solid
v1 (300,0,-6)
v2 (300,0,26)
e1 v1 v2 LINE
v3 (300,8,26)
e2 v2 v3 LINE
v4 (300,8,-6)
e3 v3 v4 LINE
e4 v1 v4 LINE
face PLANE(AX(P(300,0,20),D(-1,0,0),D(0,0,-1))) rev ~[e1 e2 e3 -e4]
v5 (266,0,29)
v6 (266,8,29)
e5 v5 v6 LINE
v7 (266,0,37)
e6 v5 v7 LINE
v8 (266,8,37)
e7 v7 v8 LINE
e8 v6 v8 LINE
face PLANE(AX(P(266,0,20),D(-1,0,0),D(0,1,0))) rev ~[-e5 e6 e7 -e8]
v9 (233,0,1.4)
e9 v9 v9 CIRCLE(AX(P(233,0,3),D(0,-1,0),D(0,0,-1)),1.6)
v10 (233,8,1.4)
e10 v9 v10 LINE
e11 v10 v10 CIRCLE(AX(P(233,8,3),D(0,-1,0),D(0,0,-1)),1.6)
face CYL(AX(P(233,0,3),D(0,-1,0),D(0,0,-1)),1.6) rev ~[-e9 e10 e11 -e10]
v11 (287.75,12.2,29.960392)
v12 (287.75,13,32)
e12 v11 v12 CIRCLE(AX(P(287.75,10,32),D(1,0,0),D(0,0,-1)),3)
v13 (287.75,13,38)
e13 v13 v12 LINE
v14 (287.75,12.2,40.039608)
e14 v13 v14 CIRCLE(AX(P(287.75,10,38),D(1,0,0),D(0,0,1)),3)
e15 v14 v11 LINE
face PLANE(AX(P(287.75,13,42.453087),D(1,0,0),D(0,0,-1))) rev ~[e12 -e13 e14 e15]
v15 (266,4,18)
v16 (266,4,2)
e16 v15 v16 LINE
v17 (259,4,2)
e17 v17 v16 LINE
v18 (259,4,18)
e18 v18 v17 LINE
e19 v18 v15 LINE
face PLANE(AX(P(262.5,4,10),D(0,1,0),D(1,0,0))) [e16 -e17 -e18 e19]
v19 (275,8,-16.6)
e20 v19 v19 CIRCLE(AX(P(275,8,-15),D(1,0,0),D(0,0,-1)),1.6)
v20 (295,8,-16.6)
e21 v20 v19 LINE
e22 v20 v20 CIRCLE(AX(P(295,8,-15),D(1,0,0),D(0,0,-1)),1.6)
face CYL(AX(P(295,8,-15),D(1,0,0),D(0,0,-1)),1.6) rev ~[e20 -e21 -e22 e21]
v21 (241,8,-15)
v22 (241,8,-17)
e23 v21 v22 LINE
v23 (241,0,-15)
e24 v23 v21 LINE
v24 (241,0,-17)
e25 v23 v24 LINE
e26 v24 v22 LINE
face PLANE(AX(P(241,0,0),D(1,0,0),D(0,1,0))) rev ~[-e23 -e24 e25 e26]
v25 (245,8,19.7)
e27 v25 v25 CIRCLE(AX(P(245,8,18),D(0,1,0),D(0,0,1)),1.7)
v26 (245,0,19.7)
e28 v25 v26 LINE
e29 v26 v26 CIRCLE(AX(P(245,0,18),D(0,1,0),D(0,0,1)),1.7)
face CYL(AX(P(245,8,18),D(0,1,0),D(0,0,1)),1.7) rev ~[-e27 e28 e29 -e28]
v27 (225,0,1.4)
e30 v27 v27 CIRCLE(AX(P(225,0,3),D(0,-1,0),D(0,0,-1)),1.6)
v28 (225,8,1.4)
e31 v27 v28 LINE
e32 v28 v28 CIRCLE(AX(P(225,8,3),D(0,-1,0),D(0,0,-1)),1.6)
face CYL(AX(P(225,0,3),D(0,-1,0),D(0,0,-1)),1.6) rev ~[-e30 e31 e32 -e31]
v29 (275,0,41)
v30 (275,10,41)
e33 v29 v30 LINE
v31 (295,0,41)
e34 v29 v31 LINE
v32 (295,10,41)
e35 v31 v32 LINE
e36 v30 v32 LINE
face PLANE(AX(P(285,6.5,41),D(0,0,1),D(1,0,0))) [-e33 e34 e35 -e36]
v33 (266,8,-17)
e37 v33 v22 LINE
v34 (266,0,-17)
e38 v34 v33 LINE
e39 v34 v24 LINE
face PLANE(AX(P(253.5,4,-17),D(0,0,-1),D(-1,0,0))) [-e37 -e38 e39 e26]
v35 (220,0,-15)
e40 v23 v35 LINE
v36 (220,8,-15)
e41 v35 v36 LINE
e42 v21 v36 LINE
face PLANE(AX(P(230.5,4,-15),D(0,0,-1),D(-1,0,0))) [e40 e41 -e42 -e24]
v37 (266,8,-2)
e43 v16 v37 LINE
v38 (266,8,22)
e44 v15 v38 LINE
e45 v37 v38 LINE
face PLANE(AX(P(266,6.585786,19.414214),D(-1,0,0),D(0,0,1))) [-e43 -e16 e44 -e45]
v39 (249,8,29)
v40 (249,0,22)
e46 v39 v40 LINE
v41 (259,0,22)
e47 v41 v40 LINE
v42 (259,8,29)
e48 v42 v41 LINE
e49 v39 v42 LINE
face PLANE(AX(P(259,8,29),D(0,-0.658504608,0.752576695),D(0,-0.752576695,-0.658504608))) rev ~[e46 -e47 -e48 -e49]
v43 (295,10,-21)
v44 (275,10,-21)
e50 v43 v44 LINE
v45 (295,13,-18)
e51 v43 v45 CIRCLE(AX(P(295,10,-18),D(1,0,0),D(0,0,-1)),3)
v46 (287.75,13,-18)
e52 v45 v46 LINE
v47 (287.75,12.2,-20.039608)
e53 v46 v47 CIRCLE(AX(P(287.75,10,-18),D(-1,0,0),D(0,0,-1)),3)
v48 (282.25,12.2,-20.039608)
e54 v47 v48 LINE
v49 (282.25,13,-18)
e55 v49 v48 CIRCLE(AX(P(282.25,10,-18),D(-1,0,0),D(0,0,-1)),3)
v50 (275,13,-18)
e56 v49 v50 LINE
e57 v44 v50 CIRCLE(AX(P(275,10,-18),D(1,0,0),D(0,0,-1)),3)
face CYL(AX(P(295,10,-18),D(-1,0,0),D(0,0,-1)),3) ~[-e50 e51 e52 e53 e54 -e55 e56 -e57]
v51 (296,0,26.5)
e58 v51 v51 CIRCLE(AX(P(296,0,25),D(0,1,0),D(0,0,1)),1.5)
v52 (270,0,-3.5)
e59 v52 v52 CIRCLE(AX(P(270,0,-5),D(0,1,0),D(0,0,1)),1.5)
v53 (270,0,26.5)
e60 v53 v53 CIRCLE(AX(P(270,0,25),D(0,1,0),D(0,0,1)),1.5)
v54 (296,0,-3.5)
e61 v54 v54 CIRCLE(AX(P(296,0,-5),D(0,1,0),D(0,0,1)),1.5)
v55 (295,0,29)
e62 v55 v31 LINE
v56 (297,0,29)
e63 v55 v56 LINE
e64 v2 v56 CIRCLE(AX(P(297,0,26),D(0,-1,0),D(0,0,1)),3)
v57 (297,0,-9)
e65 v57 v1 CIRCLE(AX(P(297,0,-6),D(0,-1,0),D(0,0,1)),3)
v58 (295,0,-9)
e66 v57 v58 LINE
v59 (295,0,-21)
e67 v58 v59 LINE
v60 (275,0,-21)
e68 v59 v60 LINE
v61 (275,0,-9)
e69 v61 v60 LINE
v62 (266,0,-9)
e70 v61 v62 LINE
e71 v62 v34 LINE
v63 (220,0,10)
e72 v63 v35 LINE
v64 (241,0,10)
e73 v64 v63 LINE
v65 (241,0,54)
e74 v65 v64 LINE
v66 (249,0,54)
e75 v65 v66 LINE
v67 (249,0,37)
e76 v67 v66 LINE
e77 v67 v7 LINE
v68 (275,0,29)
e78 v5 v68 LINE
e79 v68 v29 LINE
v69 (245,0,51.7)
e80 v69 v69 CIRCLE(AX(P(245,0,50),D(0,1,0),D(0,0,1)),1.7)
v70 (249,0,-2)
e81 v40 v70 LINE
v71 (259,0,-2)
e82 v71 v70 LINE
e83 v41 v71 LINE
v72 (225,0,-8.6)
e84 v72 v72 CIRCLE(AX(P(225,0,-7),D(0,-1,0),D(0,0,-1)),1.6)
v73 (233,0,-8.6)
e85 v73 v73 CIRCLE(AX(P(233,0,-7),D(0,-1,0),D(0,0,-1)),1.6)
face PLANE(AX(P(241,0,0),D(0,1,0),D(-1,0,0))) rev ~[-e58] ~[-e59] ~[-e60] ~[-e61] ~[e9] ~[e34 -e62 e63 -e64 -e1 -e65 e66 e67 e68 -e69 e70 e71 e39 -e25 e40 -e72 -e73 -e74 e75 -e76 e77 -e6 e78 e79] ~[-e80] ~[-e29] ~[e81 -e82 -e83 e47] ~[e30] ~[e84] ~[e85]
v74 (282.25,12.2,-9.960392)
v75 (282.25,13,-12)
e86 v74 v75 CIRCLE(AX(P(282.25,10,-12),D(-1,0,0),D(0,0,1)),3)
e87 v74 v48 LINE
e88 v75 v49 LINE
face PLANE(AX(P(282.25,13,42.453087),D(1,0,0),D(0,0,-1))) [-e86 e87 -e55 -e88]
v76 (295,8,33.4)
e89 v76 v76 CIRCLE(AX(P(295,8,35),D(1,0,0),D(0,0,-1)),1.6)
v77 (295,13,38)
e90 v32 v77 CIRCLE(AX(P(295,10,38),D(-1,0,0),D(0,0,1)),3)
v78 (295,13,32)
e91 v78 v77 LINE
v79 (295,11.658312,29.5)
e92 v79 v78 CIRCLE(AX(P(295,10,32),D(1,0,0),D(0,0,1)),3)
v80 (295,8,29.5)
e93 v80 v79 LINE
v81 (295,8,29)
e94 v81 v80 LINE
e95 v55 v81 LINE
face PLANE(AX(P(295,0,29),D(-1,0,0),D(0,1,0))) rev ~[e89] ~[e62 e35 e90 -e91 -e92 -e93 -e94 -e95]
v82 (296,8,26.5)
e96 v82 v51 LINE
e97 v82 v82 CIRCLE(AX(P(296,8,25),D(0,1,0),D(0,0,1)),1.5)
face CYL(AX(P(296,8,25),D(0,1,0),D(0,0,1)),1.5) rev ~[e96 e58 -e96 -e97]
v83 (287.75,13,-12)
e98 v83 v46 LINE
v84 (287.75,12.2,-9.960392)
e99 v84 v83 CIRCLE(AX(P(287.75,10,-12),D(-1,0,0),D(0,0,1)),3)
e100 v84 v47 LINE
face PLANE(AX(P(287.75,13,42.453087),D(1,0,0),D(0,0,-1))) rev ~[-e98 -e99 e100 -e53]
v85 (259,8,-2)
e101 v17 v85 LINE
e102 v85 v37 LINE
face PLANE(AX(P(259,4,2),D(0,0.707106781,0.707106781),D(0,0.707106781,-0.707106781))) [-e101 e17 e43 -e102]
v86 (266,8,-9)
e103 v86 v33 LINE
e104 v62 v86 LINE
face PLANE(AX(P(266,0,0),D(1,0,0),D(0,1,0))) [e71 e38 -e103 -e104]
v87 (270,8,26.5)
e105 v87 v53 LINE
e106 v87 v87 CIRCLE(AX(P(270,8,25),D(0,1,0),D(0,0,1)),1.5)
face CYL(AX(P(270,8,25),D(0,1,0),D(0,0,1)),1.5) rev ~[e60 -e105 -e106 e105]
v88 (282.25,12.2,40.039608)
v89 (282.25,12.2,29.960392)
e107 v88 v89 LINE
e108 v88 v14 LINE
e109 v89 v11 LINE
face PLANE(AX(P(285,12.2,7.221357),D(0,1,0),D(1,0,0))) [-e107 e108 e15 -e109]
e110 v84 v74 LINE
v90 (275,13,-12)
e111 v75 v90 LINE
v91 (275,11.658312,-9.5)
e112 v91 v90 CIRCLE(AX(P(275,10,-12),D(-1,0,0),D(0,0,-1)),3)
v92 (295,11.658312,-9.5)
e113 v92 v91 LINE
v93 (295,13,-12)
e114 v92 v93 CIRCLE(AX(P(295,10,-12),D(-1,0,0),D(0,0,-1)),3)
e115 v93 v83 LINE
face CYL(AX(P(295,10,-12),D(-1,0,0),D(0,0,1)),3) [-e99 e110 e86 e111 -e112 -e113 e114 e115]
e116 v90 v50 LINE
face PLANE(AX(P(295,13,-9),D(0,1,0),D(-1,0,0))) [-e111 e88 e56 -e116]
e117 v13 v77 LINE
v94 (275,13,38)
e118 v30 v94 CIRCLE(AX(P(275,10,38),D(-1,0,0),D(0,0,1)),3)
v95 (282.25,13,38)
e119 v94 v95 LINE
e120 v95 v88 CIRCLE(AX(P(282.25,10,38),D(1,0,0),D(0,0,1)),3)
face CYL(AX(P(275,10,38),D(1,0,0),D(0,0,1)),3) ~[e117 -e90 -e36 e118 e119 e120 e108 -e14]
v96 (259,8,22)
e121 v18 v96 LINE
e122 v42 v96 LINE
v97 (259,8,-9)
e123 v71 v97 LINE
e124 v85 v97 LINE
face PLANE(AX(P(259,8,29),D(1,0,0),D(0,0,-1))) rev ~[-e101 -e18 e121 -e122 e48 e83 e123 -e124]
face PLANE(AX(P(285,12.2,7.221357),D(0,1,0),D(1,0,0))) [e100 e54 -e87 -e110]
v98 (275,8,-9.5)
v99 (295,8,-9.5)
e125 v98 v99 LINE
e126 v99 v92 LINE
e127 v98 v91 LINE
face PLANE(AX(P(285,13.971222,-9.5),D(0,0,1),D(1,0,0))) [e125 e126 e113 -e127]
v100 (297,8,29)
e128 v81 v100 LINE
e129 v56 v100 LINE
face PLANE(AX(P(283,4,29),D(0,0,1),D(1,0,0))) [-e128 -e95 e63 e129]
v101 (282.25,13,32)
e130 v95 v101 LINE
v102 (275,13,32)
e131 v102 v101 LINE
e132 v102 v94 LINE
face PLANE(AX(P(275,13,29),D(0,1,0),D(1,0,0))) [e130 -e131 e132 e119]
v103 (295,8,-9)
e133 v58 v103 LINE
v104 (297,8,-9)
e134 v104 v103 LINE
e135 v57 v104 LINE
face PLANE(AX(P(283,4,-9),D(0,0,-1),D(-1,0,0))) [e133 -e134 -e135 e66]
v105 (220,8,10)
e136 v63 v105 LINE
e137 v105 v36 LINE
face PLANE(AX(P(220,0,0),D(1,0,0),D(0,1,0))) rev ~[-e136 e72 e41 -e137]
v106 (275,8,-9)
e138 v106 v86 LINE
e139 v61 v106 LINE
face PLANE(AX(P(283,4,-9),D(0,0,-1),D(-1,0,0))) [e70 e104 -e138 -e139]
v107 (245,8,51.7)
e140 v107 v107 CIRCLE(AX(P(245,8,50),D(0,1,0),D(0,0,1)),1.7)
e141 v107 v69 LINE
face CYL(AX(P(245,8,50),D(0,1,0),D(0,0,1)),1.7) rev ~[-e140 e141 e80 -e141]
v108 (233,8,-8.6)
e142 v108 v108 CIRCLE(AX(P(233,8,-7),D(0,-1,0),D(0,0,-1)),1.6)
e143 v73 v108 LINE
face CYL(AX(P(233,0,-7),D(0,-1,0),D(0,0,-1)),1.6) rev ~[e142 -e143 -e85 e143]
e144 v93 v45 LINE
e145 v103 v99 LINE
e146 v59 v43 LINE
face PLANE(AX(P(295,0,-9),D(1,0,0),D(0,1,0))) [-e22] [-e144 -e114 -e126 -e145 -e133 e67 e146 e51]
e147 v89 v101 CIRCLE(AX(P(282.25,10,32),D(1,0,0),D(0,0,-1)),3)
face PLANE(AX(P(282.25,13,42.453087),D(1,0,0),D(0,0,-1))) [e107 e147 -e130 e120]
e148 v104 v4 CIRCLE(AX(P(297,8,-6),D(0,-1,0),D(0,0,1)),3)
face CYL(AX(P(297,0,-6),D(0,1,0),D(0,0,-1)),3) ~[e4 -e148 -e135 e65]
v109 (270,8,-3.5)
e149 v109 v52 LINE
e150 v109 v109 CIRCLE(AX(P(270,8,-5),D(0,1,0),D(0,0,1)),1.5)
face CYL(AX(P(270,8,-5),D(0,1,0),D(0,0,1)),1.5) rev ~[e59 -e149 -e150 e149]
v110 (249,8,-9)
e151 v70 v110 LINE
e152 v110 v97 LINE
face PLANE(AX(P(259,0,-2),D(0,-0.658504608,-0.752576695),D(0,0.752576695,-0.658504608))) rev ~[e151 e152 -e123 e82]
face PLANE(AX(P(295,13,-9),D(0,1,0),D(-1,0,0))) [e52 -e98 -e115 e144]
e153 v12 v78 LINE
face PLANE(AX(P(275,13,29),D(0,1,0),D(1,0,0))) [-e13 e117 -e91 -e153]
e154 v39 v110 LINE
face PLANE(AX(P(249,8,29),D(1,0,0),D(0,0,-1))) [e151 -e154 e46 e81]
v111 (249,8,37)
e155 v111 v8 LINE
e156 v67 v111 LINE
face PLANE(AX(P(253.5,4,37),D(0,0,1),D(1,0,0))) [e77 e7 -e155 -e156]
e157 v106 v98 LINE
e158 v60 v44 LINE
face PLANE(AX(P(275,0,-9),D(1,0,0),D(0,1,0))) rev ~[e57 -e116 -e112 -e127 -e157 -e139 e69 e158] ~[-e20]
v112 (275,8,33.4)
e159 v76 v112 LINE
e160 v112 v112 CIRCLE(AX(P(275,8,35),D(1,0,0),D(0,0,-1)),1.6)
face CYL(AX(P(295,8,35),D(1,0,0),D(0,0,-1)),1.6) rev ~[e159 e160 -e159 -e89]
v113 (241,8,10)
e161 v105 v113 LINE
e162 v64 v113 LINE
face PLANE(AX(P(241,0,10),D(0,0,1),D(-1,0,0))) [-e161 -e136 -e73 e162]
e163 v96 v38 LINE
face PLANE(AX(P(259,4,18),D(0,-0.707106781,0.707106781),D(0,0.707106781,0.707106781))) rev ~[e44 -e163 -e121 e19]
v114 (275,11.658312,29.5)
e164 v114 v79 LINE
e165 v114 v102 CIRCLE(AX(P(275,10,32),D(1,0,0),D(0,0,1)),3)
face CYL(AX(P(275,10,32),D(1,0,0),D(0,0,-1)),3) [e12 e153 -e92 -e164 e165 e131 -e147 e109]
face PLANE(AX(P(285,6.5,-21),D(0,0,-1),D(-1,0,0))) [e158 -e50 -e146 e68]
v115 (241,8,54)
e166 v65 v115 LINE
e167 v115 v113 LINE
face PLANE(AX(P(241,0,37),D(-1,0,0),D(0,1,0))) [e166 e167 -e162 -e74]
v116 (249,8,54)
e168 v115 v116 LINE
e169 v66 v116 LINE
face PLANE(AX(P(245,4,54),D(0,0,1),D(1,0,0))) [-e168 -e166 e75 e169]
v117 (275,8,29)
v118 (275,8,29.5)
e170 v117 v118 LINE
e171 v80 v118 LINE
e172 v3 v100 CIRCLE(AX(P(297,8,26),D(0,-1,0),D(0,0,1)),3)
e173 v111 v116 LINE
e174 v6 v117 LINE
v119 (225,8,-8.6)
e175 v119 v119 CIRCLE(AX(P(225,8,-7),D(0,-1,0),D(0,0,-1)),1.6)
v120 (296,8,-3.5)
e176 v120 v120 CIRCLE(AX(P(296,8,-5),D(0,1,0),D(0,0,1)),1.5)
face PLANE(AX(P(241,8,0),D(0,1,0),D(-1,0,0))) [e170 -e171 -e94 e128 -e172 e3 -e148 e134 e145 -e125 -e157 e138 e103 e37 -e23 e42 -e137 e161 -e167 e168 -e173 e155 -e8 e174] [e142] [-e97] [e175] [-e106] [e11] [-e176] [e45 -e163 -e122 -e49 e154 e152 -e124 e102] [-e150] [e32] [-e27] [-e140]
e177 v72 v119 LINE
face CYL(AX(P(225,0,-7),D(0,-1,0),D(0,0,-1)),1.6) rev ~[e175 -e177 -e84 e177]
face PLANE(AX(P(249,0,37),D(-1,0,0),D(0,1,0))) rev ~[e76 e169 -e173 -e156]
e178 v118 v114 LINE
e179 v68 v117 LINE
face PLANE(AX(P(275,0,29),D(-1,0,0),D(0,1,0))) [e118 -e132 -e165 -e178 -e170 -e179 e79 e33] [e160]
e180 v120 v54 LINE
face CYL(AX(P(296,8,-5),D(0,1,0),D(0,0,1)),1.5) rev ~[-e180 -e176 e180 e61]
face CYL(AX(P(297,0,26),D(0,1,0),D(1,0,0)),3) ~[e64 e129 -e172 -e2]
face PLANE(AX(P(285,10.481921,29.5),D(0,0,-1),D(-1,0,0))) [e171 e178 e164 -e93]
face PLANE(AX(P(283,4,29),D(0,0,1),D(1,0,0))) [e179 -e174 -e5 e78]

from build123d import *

# Parameters (mm, degrees)
SKETCH1_W            = 300
SKETCH1_H            = 20
BOSS_EXTRUDE1_DEPTH  = 8
SKETCH2_W            = 34
SKETCH2_H            = 8
BOSS_EXTRUDE2_DEPTH  = 9
SKETCH3_W            = 34
SKETCH3_H            = 8
BOSS_EXTRUDE3_DEPTH  = 9
SKETCH4_R            = 1.5
CUT_EXTRUDE1_DEPTH   = 302.504560496
SKETCH5_W            = 25
SKETCH5_H            = 8
BOSS_EXTRUDE4_DEPTH  = 17
SKETCH6_W            = 25
SKETCH6_H            = 8
BOSS_EXTRUDE5_DEPTH  = 17
SKETCH7_W            = 10
SKETCH7_H            = 38
CUT_EXTRUDE2_DEPTH   = 303.37890138
SKETCH8_W            = 7
SKETCH8_H            = 16
CUT_EXTRUDE3_DEPTH   = 4
CUT_EXTRUDE4_DEPTH   = 7
BOSS_EXTRUDE6_DEPTH  = 10
SKETCH12_W           = 8
SKETCH12_H           = 8
BOSS_EXTRUDE7_DEPTH  = 17
SKETCH13_R           = 1.7
CUT_EXTRUDE6_DEPTH   = 305.926220585
SKETCH14_W           = 20
SKETCH14_H           = 13
BOSS_EXTRUDE8_DEPTH  = 12
SKETCH15_R           = 1.6
CUT_EXTRUDE7_DEPTH   = 20
SKETCH16_W           = 20
SKETCH16_H           = 13
BOSS_EXTRUDE9_DEPTH  = 12
SKETCH17_R           = 1.6
CUT_EXTRUDE8_DEPTH   = 20
SKETCH18_W           = 20
SKETCH18_H           = 13
BOSS_EXTRUDE10_DEPTH = 12
CUT_EXTRUDE9_START   = -20
SKETCH19_R           = 1.6
CUT_EXTRUDE9_DEPTH   = 20
SKETCH20_W           = 20
SKETCH20_H           = 13
BOSS_EXTRUDE11_DEPTH = 12
CUT_EXTRUDE10_START  = -20
SKETCH21_R           = 1.6
CUT_EXTRUDE10_DEPTH  = 20
FILLET6_R            = 3
SKETCH28_W           = 198.881436238
SKETCH28_H           = 556.355103816
CUT_EXTRUDE14_DEPTH  = 220
SKETCH29_W           = 21
SKETCH29_H           = 8
BOSS_EXTRUDE12_DEPTH = 15
SKETCH30_W           = 21
SKETCH30_H           = 10
CUT_EXTRUDE15_DEPTH  = 306.0983448
SKETCH31_R           = 1.6
CUT_EXTRUDE16_DEPTH  = 306.0983448
FILLET7_R            = 3
SKETCH32_W           = 5.5
SKETCH32_H           = 70.463459777
CUT_EXTRUDE17_DEPTH  = 0.8
SKETCH33_W           = 20
SKETCH33_H           = 4.963841857
CUT_EXTRUDE18_DEPTH  = 0.5
SKETCH34_W           = 20
SKETCH34_H           = 11.942443484
CUT_EXTRUDE19_DEPTH  = 0.5


with BuildPart() as part:
    # Sketch1 → Boss-Extrude1 (new body)
    with BuildSketch(Plane(origin=(0, 0, 0), x_dir=(1, 0, 0), z_dir=(0, 1, 0))):
        with Locations((150, -10)):
            Rectangle(SKETCH1_W, SKETCH1_H)
    extrude(amount=BOSS_EXTRUDE1_DEPTH)

    # Sketch2 → Boss-Extrude2 (add)
    with BuildSketch(Plane.XY.offset(20)):
        with Locations((17, 4)):
            Rectangle(SKETCH2_W, SKETCH2_H)
        with Locations((283, 4)):
            Rectangle(SKETCH2_W, SKETCH2_H)
    extrude(amount=BOSS_EXTRUDE2_DEPTH)

    # Sketch3 → Boss-Extrude3 (add)
    with BuildSketch(Plane(origin=(0, 0, 0), x_dir=(-1, 0, 0), z_dir=(0, 0, -1))):
        with Locations((-17, 4)):
            Rectangle(SKETCH3_W, SKETCH3_H)
        with Locations((-283, 4)):
            Rectangle(SKETCH3_W, SKETCH3_H)
    extrude(amount=BOSS_EXTRUDE3_DEPTH)

    # Sketch4 → Cut-Extrude1 (cut, through all)
    with BuildSketch(Plane(origin=(0, 8, 0), x_dir=(1, 0, 0), z_dir=(0, 1, 0))):
        with Locations(Location((4, 5, 0), (0, 0, 270))):
            Circle(SKETCH4_R)
        with Locations(Location((30, 5, 0), (0, 0, 270))):
            Circle(SKETCH4_R)
        with Locations(Location((30, -25, 0), (0, 0, 270))):
            Circle(SKETCH4_R)
        with Locations(Location((4, -25, 0), (0, 0, 270))):
            Circle(SKETCH4_R)
        with Locations(Location((296, -25, 0), (0, 0, 270))):
            Circle(SKETCH4_R)
        with Locations(Location((296, 5, 0), (0, 0, 270))):
            Circle(SKETCH4_R)
        with Locations(Location((270, -25, 0), (0, 0, 270))):
            Circle(SKETCH4_R)
        with Locations(Location((270, 5, 0), (0, 0, 270))):
            Circle(SKETCH4_R)
    extrude(amount=-CUT_EXTRUDE1_DEPTH, mode=Mode.SUBTRACT)

    # Sketch5 → Boss-Extrude4 (add)
    with BuildSketch(Plane.XY.offset(20)):
        with Locations((253.5, 4)):
            Rectangle(SKETCH5_W, SKETCH5_H)
    extrude(amount=BOSS_EXTRUDE4_DEPTH)

    # Sketch6 → Boss-Extrude5 (add)
    with BuildSketch(Plane(origin=(0, 0, 0), x_dir=(-1, 0, 0), z_dir=(0, 0, -1))):
        with Locations((-253.5, 4)):
            Rectangle(SKETCH6_W, SKETCH6_H)
    extrude(amount=BOSS_EXTRUDE5_DEPTH)

    # Sketch7 → Cut-Extrude2 (cut, through all)
    with BuildSketch(Plane(origin=(0, 8, 0), x_dir=(1, 0, 0), z_dir=(0, 1, 0))):
        with Locations((254, -10)):
            Rectangle(SKETCH7_W, SKETCH7_H)
    extrude(amount=-CUT_EXTRUDE2_DEPTH, mode=Mode.SUBTRACT)

    # Sketch8 → Cut-Extrude3 (cut)
    with BuildSketch(Plane(origin=(0, 8, 0), x_dir=(1, 0, 0), z_dir=(0, 1, 0))):
        with Locations((262.5, -10)):
            Rectangle(SKETCH8_W, SKETCH8_H)
    extrude(amount=-CUT_EXTRUDE3_DEPTH, mode=Mode.SUBTRACT)

    # Sketch9 → Cut-Extrude4 (cut)
    with BuildSketch(Plane.ZY.offset(-259)):
        Polygon((18, 4), (22, 8), (18, 8), align=None)
        Polygon((2, 4), (-2, 8), (2, 8), align=None)
    extrude(amount=-CUT_EXTRUDE4_DEPTH, mode=Mode.SUBTRACT)

    # Sketch10 → Boss-Extrude6 (add)
    with BuildSketch(Plane.ZY.offset(-259)):
        Polygon((-2, 0), (-9, 8), (-9, 0), align=None)
        Polygon((29, 8), (22, 0), (29, 0), align=None)
    extrude(amount=BOSS_EXTRUDE6_DEPTH)

    # Sketch12 → Boss-Extrude7 (add)
    with BuildSketch(Plane.XY.offset(37)):
        with Locations((245, 4)):
            Rectangle(SKETCH12_W, SKETCH12_H)
    extrude(amount=BOSS_EXTRUDE7_DEPTH)

    # Sketch13 → Cut-Extrude6 (cut, through all)
    with BuildSketch(Plane(origin=(0, 8, 0), x_dir=(1, 0, 0), z_dir=(0, 1, 0))):
        with Locations(Location((245, -50, 0), (0, 0, 270))):
            Circle(SKETCH13_R)
        with Locations(Location((245, -18, 0), (0, 0, 270))):
            Circle(SKETCH13_R)
    extrude(amount=-CUT_EXTRUDE6_DEPTH, mode=Mode.SUBTRACT)

    # Sketch14 → Boss-Extrude8 (add)
    with BuildSketch(Plane.XY.offset(29)):
        with Locations((285, 6.5)):
            Rectangle(SKETCH14_W, SKETCH14_H)
    extrude(amount=BOSS_EXTRUDE8_DEPTH)

    # Sketch15 → Cut-Extrude7 (cut)
    with BuildSketch(Plane(origin=(295, 0, 0), x_dir=(0, 0, -1), z_dir=(1, 0, 0))):
        with Locations((-35, 8)):
            Circle(SKETCH15_R)
    extrude(amount=-CUT_EXTRUDE7_DEPTH, mode=Mode.SUBTRACT)

    # Sketch16 → Boss-Extrude9 (add)
    with BuildSketch(Plane(origin=(0, 0, -9), x_dir=(-1, 0, 0), z_dir=(0, 0, -1))):
        with Locations((-285, 6.5)):
            Rectangle(SKETCH16_W, SKETCH16_H)
    extrude(amount=BOSS_EXTRUDE9_DEPTH)

    # Sketch17 → Cut-Extrude8 (cut)
    with BuildSketch(Plane(origin=(295, 0, 0), x_dir=(0, 0, -1), z_dir=(1, 0, 0))):
        with Locations((15, 8)):
            Circle(SKETCH17_R)
    extrude(amount=-CUT_EXTRUDE8_DEPTH, mode=Mode.SUBTRACT)

    # Sketch18 → Boss-Extrude10 (add)
    with BuildSketch(Plane(origin=(0, 0, -9), x_dir=(-1, 0, 0), z_dir=(0, 0, -1))):
        with Locations((-15, 6.5)):
            Rectangle(SKETCH18_W, SKETCH18_H)
    extrude(amount=BOSS_EXTRUDE10_DEPTH)

    # Sketch19 → Cut-Extrude9 (cut)
    with BuildSketch(Plane.ZY.offset(-5).offset(CUT_EXTRUDE9_START)):
        with Locations(Location((-15, 8, 0), (0, 0, 180))):
            Circle(SKETCH19_R)
    extrude(amount=CUT_EXTRUDE9_DEPTH, mode=Mode.SUBTRACT)

    # Sketch20 → Boss-Extrude11 (add)
    with BuildSketch(Plane.XY.offset(29)):
        with Locations((15, 6.5)):
            Rectangle(SKETCH20_W, SKETCH20_H)
    extrude(amount=BOSS_EXTRUDE11_DEPTH)

    # Sketch21 → Cut-Extrude10 (cut)
    with BuildSketch(Plane.ZY.offset(-5).offset(CUT_EXTRUDE10_START)):
        with Locations(Location((35, 8, 0), (0, 0, 180))):
            Circle(SKETCH21_R)
    extrude(amount=CUT_EXTRUDE10_DEPTH, mode=Mode.SUBTRACT)

    # Fillet6
    fillet6_edges = [part.edges().sort_by_distance(p)[0] for p in [
        (285, 13, 29),
        (285, 13, 41),
        (285, 13, -9),
        (285, 13, -21),
        (15, 13, -9),
        (15, 13, -21),
        (15, 13, 29),
        (15, 13, 41),
    ]]
    fillet(fillet6_edges, radius=FILLET6_R)

    # Sketch28 → Cut-Extrude14 (cut)
    with BuildSketch(Plane.ZY):
        with Locations((-20.495432896, -60.484201615)):
            Rectangle(SKETCH28_W, SKETCH28_H)
    extrude(amount=-CUT_EXTRUDE14_DEPTH, mode=Mode.SUBTRACT)

    # Sketch29 → Boss-Extrude12 (add)
    with BuildSketch(Plane(origin=(0, 0, 0), x_dir=(-1, 0, 0), z_dir=(0, 0, -1))):
        with Locations((-230.5, 4)):
            Rectangle(SKETCH29_W, SKETCH29_H)
    extrude(amount=BOSS_EXTRUDE12_DEPTH)

    # Sketch30 → Cut-Extrude15 (cut, through all)
    with BuildSketch(Plane(origin=(0, 0, 0), x_dir=(-1, 0, 0), z_dir=(0, -1, 0))):
        with Locations((-230.5, -15)):
            Rectangle(SKETCH30_W, SKETCH30_H)
    extrude(amount=-CUT_EXTRUDE15_DEPTH, mode=Mode.SUBTRACT)

    # Sketch31 → Cut-Extrude16 (cut, through all)
    with BuildSketch(Plane(origin=(0, 0, 0), x_dir=(-1, 0, 0), z_dir=(0, -1, 0))):
        with Locations(Location((-225, 7, 0), (0, 0, 90))):
            Circle(SKETCH31_R)
        with Locations(Location((-225, -3, 0), (0, 0, 90))):
            Circle(SKETCH31_R)
        with Locations(Location((-233, 7, 0), (0, 0, 90))):
            Circle(SKETCH31_R)
        with Locations(Location((-233, -3, 0), (0, 0, 90))):
            Circle(SKETCH31_R)
    extrude(amount=-CUT_EXTRUDE16_DEPTH, mode=Mode.SUBTRACT)

    # Fillet7
    fillet7_edges = [part.edges().sort_by_distance(p)[0] for p in [
        (300, 4, 29),
        (300, 4, -9),
    ]]
    fillet(fillet7_edges, radius=FILLET7_R)

    # Sketch32 → Cut-Extrude17 (cut)
    with BuildSketch(Plane(origin=(0, 13, 0), x_dir=(1, 0, 0), z_dir=(0, 1, 0))):
        with Locations((285, -7.2213573)):
            Rectangle(SKETCH32_W, SKETCH32_H)
    extrude(amount=-CUT_EXTRUDE17_DEPTH, mode=Mode.SUBTRACT)

    # Sketch33 → Cut-Extrude18 (cut)
    with BuildSketch(Plane(origin=(0, 0, 29), x_dir=(-1, 0, 0), z_dir=(0, 0, -1))):
        with Locations((-285, 10.481920928)):
            Rectangle(SKETCH33_W, SKETCH33_H)
    extrude(amount=-CUT_EXTRUDE18_DEPTH, mode=Mode.SUBTRACT)

    # Sketch34 → Cut-Extrude19 (cut)
    with BuildSketch(Plane.XY.offset(-9)):
        with Locations((285, 13.971221742)):
            Rectangle(SKETCH34_W, SKETCH34_H)
    extrude(amount=-CUT_EXTRUDE19_DEPTH, mode=Mode.SUBTRACT)


solid = part.part
